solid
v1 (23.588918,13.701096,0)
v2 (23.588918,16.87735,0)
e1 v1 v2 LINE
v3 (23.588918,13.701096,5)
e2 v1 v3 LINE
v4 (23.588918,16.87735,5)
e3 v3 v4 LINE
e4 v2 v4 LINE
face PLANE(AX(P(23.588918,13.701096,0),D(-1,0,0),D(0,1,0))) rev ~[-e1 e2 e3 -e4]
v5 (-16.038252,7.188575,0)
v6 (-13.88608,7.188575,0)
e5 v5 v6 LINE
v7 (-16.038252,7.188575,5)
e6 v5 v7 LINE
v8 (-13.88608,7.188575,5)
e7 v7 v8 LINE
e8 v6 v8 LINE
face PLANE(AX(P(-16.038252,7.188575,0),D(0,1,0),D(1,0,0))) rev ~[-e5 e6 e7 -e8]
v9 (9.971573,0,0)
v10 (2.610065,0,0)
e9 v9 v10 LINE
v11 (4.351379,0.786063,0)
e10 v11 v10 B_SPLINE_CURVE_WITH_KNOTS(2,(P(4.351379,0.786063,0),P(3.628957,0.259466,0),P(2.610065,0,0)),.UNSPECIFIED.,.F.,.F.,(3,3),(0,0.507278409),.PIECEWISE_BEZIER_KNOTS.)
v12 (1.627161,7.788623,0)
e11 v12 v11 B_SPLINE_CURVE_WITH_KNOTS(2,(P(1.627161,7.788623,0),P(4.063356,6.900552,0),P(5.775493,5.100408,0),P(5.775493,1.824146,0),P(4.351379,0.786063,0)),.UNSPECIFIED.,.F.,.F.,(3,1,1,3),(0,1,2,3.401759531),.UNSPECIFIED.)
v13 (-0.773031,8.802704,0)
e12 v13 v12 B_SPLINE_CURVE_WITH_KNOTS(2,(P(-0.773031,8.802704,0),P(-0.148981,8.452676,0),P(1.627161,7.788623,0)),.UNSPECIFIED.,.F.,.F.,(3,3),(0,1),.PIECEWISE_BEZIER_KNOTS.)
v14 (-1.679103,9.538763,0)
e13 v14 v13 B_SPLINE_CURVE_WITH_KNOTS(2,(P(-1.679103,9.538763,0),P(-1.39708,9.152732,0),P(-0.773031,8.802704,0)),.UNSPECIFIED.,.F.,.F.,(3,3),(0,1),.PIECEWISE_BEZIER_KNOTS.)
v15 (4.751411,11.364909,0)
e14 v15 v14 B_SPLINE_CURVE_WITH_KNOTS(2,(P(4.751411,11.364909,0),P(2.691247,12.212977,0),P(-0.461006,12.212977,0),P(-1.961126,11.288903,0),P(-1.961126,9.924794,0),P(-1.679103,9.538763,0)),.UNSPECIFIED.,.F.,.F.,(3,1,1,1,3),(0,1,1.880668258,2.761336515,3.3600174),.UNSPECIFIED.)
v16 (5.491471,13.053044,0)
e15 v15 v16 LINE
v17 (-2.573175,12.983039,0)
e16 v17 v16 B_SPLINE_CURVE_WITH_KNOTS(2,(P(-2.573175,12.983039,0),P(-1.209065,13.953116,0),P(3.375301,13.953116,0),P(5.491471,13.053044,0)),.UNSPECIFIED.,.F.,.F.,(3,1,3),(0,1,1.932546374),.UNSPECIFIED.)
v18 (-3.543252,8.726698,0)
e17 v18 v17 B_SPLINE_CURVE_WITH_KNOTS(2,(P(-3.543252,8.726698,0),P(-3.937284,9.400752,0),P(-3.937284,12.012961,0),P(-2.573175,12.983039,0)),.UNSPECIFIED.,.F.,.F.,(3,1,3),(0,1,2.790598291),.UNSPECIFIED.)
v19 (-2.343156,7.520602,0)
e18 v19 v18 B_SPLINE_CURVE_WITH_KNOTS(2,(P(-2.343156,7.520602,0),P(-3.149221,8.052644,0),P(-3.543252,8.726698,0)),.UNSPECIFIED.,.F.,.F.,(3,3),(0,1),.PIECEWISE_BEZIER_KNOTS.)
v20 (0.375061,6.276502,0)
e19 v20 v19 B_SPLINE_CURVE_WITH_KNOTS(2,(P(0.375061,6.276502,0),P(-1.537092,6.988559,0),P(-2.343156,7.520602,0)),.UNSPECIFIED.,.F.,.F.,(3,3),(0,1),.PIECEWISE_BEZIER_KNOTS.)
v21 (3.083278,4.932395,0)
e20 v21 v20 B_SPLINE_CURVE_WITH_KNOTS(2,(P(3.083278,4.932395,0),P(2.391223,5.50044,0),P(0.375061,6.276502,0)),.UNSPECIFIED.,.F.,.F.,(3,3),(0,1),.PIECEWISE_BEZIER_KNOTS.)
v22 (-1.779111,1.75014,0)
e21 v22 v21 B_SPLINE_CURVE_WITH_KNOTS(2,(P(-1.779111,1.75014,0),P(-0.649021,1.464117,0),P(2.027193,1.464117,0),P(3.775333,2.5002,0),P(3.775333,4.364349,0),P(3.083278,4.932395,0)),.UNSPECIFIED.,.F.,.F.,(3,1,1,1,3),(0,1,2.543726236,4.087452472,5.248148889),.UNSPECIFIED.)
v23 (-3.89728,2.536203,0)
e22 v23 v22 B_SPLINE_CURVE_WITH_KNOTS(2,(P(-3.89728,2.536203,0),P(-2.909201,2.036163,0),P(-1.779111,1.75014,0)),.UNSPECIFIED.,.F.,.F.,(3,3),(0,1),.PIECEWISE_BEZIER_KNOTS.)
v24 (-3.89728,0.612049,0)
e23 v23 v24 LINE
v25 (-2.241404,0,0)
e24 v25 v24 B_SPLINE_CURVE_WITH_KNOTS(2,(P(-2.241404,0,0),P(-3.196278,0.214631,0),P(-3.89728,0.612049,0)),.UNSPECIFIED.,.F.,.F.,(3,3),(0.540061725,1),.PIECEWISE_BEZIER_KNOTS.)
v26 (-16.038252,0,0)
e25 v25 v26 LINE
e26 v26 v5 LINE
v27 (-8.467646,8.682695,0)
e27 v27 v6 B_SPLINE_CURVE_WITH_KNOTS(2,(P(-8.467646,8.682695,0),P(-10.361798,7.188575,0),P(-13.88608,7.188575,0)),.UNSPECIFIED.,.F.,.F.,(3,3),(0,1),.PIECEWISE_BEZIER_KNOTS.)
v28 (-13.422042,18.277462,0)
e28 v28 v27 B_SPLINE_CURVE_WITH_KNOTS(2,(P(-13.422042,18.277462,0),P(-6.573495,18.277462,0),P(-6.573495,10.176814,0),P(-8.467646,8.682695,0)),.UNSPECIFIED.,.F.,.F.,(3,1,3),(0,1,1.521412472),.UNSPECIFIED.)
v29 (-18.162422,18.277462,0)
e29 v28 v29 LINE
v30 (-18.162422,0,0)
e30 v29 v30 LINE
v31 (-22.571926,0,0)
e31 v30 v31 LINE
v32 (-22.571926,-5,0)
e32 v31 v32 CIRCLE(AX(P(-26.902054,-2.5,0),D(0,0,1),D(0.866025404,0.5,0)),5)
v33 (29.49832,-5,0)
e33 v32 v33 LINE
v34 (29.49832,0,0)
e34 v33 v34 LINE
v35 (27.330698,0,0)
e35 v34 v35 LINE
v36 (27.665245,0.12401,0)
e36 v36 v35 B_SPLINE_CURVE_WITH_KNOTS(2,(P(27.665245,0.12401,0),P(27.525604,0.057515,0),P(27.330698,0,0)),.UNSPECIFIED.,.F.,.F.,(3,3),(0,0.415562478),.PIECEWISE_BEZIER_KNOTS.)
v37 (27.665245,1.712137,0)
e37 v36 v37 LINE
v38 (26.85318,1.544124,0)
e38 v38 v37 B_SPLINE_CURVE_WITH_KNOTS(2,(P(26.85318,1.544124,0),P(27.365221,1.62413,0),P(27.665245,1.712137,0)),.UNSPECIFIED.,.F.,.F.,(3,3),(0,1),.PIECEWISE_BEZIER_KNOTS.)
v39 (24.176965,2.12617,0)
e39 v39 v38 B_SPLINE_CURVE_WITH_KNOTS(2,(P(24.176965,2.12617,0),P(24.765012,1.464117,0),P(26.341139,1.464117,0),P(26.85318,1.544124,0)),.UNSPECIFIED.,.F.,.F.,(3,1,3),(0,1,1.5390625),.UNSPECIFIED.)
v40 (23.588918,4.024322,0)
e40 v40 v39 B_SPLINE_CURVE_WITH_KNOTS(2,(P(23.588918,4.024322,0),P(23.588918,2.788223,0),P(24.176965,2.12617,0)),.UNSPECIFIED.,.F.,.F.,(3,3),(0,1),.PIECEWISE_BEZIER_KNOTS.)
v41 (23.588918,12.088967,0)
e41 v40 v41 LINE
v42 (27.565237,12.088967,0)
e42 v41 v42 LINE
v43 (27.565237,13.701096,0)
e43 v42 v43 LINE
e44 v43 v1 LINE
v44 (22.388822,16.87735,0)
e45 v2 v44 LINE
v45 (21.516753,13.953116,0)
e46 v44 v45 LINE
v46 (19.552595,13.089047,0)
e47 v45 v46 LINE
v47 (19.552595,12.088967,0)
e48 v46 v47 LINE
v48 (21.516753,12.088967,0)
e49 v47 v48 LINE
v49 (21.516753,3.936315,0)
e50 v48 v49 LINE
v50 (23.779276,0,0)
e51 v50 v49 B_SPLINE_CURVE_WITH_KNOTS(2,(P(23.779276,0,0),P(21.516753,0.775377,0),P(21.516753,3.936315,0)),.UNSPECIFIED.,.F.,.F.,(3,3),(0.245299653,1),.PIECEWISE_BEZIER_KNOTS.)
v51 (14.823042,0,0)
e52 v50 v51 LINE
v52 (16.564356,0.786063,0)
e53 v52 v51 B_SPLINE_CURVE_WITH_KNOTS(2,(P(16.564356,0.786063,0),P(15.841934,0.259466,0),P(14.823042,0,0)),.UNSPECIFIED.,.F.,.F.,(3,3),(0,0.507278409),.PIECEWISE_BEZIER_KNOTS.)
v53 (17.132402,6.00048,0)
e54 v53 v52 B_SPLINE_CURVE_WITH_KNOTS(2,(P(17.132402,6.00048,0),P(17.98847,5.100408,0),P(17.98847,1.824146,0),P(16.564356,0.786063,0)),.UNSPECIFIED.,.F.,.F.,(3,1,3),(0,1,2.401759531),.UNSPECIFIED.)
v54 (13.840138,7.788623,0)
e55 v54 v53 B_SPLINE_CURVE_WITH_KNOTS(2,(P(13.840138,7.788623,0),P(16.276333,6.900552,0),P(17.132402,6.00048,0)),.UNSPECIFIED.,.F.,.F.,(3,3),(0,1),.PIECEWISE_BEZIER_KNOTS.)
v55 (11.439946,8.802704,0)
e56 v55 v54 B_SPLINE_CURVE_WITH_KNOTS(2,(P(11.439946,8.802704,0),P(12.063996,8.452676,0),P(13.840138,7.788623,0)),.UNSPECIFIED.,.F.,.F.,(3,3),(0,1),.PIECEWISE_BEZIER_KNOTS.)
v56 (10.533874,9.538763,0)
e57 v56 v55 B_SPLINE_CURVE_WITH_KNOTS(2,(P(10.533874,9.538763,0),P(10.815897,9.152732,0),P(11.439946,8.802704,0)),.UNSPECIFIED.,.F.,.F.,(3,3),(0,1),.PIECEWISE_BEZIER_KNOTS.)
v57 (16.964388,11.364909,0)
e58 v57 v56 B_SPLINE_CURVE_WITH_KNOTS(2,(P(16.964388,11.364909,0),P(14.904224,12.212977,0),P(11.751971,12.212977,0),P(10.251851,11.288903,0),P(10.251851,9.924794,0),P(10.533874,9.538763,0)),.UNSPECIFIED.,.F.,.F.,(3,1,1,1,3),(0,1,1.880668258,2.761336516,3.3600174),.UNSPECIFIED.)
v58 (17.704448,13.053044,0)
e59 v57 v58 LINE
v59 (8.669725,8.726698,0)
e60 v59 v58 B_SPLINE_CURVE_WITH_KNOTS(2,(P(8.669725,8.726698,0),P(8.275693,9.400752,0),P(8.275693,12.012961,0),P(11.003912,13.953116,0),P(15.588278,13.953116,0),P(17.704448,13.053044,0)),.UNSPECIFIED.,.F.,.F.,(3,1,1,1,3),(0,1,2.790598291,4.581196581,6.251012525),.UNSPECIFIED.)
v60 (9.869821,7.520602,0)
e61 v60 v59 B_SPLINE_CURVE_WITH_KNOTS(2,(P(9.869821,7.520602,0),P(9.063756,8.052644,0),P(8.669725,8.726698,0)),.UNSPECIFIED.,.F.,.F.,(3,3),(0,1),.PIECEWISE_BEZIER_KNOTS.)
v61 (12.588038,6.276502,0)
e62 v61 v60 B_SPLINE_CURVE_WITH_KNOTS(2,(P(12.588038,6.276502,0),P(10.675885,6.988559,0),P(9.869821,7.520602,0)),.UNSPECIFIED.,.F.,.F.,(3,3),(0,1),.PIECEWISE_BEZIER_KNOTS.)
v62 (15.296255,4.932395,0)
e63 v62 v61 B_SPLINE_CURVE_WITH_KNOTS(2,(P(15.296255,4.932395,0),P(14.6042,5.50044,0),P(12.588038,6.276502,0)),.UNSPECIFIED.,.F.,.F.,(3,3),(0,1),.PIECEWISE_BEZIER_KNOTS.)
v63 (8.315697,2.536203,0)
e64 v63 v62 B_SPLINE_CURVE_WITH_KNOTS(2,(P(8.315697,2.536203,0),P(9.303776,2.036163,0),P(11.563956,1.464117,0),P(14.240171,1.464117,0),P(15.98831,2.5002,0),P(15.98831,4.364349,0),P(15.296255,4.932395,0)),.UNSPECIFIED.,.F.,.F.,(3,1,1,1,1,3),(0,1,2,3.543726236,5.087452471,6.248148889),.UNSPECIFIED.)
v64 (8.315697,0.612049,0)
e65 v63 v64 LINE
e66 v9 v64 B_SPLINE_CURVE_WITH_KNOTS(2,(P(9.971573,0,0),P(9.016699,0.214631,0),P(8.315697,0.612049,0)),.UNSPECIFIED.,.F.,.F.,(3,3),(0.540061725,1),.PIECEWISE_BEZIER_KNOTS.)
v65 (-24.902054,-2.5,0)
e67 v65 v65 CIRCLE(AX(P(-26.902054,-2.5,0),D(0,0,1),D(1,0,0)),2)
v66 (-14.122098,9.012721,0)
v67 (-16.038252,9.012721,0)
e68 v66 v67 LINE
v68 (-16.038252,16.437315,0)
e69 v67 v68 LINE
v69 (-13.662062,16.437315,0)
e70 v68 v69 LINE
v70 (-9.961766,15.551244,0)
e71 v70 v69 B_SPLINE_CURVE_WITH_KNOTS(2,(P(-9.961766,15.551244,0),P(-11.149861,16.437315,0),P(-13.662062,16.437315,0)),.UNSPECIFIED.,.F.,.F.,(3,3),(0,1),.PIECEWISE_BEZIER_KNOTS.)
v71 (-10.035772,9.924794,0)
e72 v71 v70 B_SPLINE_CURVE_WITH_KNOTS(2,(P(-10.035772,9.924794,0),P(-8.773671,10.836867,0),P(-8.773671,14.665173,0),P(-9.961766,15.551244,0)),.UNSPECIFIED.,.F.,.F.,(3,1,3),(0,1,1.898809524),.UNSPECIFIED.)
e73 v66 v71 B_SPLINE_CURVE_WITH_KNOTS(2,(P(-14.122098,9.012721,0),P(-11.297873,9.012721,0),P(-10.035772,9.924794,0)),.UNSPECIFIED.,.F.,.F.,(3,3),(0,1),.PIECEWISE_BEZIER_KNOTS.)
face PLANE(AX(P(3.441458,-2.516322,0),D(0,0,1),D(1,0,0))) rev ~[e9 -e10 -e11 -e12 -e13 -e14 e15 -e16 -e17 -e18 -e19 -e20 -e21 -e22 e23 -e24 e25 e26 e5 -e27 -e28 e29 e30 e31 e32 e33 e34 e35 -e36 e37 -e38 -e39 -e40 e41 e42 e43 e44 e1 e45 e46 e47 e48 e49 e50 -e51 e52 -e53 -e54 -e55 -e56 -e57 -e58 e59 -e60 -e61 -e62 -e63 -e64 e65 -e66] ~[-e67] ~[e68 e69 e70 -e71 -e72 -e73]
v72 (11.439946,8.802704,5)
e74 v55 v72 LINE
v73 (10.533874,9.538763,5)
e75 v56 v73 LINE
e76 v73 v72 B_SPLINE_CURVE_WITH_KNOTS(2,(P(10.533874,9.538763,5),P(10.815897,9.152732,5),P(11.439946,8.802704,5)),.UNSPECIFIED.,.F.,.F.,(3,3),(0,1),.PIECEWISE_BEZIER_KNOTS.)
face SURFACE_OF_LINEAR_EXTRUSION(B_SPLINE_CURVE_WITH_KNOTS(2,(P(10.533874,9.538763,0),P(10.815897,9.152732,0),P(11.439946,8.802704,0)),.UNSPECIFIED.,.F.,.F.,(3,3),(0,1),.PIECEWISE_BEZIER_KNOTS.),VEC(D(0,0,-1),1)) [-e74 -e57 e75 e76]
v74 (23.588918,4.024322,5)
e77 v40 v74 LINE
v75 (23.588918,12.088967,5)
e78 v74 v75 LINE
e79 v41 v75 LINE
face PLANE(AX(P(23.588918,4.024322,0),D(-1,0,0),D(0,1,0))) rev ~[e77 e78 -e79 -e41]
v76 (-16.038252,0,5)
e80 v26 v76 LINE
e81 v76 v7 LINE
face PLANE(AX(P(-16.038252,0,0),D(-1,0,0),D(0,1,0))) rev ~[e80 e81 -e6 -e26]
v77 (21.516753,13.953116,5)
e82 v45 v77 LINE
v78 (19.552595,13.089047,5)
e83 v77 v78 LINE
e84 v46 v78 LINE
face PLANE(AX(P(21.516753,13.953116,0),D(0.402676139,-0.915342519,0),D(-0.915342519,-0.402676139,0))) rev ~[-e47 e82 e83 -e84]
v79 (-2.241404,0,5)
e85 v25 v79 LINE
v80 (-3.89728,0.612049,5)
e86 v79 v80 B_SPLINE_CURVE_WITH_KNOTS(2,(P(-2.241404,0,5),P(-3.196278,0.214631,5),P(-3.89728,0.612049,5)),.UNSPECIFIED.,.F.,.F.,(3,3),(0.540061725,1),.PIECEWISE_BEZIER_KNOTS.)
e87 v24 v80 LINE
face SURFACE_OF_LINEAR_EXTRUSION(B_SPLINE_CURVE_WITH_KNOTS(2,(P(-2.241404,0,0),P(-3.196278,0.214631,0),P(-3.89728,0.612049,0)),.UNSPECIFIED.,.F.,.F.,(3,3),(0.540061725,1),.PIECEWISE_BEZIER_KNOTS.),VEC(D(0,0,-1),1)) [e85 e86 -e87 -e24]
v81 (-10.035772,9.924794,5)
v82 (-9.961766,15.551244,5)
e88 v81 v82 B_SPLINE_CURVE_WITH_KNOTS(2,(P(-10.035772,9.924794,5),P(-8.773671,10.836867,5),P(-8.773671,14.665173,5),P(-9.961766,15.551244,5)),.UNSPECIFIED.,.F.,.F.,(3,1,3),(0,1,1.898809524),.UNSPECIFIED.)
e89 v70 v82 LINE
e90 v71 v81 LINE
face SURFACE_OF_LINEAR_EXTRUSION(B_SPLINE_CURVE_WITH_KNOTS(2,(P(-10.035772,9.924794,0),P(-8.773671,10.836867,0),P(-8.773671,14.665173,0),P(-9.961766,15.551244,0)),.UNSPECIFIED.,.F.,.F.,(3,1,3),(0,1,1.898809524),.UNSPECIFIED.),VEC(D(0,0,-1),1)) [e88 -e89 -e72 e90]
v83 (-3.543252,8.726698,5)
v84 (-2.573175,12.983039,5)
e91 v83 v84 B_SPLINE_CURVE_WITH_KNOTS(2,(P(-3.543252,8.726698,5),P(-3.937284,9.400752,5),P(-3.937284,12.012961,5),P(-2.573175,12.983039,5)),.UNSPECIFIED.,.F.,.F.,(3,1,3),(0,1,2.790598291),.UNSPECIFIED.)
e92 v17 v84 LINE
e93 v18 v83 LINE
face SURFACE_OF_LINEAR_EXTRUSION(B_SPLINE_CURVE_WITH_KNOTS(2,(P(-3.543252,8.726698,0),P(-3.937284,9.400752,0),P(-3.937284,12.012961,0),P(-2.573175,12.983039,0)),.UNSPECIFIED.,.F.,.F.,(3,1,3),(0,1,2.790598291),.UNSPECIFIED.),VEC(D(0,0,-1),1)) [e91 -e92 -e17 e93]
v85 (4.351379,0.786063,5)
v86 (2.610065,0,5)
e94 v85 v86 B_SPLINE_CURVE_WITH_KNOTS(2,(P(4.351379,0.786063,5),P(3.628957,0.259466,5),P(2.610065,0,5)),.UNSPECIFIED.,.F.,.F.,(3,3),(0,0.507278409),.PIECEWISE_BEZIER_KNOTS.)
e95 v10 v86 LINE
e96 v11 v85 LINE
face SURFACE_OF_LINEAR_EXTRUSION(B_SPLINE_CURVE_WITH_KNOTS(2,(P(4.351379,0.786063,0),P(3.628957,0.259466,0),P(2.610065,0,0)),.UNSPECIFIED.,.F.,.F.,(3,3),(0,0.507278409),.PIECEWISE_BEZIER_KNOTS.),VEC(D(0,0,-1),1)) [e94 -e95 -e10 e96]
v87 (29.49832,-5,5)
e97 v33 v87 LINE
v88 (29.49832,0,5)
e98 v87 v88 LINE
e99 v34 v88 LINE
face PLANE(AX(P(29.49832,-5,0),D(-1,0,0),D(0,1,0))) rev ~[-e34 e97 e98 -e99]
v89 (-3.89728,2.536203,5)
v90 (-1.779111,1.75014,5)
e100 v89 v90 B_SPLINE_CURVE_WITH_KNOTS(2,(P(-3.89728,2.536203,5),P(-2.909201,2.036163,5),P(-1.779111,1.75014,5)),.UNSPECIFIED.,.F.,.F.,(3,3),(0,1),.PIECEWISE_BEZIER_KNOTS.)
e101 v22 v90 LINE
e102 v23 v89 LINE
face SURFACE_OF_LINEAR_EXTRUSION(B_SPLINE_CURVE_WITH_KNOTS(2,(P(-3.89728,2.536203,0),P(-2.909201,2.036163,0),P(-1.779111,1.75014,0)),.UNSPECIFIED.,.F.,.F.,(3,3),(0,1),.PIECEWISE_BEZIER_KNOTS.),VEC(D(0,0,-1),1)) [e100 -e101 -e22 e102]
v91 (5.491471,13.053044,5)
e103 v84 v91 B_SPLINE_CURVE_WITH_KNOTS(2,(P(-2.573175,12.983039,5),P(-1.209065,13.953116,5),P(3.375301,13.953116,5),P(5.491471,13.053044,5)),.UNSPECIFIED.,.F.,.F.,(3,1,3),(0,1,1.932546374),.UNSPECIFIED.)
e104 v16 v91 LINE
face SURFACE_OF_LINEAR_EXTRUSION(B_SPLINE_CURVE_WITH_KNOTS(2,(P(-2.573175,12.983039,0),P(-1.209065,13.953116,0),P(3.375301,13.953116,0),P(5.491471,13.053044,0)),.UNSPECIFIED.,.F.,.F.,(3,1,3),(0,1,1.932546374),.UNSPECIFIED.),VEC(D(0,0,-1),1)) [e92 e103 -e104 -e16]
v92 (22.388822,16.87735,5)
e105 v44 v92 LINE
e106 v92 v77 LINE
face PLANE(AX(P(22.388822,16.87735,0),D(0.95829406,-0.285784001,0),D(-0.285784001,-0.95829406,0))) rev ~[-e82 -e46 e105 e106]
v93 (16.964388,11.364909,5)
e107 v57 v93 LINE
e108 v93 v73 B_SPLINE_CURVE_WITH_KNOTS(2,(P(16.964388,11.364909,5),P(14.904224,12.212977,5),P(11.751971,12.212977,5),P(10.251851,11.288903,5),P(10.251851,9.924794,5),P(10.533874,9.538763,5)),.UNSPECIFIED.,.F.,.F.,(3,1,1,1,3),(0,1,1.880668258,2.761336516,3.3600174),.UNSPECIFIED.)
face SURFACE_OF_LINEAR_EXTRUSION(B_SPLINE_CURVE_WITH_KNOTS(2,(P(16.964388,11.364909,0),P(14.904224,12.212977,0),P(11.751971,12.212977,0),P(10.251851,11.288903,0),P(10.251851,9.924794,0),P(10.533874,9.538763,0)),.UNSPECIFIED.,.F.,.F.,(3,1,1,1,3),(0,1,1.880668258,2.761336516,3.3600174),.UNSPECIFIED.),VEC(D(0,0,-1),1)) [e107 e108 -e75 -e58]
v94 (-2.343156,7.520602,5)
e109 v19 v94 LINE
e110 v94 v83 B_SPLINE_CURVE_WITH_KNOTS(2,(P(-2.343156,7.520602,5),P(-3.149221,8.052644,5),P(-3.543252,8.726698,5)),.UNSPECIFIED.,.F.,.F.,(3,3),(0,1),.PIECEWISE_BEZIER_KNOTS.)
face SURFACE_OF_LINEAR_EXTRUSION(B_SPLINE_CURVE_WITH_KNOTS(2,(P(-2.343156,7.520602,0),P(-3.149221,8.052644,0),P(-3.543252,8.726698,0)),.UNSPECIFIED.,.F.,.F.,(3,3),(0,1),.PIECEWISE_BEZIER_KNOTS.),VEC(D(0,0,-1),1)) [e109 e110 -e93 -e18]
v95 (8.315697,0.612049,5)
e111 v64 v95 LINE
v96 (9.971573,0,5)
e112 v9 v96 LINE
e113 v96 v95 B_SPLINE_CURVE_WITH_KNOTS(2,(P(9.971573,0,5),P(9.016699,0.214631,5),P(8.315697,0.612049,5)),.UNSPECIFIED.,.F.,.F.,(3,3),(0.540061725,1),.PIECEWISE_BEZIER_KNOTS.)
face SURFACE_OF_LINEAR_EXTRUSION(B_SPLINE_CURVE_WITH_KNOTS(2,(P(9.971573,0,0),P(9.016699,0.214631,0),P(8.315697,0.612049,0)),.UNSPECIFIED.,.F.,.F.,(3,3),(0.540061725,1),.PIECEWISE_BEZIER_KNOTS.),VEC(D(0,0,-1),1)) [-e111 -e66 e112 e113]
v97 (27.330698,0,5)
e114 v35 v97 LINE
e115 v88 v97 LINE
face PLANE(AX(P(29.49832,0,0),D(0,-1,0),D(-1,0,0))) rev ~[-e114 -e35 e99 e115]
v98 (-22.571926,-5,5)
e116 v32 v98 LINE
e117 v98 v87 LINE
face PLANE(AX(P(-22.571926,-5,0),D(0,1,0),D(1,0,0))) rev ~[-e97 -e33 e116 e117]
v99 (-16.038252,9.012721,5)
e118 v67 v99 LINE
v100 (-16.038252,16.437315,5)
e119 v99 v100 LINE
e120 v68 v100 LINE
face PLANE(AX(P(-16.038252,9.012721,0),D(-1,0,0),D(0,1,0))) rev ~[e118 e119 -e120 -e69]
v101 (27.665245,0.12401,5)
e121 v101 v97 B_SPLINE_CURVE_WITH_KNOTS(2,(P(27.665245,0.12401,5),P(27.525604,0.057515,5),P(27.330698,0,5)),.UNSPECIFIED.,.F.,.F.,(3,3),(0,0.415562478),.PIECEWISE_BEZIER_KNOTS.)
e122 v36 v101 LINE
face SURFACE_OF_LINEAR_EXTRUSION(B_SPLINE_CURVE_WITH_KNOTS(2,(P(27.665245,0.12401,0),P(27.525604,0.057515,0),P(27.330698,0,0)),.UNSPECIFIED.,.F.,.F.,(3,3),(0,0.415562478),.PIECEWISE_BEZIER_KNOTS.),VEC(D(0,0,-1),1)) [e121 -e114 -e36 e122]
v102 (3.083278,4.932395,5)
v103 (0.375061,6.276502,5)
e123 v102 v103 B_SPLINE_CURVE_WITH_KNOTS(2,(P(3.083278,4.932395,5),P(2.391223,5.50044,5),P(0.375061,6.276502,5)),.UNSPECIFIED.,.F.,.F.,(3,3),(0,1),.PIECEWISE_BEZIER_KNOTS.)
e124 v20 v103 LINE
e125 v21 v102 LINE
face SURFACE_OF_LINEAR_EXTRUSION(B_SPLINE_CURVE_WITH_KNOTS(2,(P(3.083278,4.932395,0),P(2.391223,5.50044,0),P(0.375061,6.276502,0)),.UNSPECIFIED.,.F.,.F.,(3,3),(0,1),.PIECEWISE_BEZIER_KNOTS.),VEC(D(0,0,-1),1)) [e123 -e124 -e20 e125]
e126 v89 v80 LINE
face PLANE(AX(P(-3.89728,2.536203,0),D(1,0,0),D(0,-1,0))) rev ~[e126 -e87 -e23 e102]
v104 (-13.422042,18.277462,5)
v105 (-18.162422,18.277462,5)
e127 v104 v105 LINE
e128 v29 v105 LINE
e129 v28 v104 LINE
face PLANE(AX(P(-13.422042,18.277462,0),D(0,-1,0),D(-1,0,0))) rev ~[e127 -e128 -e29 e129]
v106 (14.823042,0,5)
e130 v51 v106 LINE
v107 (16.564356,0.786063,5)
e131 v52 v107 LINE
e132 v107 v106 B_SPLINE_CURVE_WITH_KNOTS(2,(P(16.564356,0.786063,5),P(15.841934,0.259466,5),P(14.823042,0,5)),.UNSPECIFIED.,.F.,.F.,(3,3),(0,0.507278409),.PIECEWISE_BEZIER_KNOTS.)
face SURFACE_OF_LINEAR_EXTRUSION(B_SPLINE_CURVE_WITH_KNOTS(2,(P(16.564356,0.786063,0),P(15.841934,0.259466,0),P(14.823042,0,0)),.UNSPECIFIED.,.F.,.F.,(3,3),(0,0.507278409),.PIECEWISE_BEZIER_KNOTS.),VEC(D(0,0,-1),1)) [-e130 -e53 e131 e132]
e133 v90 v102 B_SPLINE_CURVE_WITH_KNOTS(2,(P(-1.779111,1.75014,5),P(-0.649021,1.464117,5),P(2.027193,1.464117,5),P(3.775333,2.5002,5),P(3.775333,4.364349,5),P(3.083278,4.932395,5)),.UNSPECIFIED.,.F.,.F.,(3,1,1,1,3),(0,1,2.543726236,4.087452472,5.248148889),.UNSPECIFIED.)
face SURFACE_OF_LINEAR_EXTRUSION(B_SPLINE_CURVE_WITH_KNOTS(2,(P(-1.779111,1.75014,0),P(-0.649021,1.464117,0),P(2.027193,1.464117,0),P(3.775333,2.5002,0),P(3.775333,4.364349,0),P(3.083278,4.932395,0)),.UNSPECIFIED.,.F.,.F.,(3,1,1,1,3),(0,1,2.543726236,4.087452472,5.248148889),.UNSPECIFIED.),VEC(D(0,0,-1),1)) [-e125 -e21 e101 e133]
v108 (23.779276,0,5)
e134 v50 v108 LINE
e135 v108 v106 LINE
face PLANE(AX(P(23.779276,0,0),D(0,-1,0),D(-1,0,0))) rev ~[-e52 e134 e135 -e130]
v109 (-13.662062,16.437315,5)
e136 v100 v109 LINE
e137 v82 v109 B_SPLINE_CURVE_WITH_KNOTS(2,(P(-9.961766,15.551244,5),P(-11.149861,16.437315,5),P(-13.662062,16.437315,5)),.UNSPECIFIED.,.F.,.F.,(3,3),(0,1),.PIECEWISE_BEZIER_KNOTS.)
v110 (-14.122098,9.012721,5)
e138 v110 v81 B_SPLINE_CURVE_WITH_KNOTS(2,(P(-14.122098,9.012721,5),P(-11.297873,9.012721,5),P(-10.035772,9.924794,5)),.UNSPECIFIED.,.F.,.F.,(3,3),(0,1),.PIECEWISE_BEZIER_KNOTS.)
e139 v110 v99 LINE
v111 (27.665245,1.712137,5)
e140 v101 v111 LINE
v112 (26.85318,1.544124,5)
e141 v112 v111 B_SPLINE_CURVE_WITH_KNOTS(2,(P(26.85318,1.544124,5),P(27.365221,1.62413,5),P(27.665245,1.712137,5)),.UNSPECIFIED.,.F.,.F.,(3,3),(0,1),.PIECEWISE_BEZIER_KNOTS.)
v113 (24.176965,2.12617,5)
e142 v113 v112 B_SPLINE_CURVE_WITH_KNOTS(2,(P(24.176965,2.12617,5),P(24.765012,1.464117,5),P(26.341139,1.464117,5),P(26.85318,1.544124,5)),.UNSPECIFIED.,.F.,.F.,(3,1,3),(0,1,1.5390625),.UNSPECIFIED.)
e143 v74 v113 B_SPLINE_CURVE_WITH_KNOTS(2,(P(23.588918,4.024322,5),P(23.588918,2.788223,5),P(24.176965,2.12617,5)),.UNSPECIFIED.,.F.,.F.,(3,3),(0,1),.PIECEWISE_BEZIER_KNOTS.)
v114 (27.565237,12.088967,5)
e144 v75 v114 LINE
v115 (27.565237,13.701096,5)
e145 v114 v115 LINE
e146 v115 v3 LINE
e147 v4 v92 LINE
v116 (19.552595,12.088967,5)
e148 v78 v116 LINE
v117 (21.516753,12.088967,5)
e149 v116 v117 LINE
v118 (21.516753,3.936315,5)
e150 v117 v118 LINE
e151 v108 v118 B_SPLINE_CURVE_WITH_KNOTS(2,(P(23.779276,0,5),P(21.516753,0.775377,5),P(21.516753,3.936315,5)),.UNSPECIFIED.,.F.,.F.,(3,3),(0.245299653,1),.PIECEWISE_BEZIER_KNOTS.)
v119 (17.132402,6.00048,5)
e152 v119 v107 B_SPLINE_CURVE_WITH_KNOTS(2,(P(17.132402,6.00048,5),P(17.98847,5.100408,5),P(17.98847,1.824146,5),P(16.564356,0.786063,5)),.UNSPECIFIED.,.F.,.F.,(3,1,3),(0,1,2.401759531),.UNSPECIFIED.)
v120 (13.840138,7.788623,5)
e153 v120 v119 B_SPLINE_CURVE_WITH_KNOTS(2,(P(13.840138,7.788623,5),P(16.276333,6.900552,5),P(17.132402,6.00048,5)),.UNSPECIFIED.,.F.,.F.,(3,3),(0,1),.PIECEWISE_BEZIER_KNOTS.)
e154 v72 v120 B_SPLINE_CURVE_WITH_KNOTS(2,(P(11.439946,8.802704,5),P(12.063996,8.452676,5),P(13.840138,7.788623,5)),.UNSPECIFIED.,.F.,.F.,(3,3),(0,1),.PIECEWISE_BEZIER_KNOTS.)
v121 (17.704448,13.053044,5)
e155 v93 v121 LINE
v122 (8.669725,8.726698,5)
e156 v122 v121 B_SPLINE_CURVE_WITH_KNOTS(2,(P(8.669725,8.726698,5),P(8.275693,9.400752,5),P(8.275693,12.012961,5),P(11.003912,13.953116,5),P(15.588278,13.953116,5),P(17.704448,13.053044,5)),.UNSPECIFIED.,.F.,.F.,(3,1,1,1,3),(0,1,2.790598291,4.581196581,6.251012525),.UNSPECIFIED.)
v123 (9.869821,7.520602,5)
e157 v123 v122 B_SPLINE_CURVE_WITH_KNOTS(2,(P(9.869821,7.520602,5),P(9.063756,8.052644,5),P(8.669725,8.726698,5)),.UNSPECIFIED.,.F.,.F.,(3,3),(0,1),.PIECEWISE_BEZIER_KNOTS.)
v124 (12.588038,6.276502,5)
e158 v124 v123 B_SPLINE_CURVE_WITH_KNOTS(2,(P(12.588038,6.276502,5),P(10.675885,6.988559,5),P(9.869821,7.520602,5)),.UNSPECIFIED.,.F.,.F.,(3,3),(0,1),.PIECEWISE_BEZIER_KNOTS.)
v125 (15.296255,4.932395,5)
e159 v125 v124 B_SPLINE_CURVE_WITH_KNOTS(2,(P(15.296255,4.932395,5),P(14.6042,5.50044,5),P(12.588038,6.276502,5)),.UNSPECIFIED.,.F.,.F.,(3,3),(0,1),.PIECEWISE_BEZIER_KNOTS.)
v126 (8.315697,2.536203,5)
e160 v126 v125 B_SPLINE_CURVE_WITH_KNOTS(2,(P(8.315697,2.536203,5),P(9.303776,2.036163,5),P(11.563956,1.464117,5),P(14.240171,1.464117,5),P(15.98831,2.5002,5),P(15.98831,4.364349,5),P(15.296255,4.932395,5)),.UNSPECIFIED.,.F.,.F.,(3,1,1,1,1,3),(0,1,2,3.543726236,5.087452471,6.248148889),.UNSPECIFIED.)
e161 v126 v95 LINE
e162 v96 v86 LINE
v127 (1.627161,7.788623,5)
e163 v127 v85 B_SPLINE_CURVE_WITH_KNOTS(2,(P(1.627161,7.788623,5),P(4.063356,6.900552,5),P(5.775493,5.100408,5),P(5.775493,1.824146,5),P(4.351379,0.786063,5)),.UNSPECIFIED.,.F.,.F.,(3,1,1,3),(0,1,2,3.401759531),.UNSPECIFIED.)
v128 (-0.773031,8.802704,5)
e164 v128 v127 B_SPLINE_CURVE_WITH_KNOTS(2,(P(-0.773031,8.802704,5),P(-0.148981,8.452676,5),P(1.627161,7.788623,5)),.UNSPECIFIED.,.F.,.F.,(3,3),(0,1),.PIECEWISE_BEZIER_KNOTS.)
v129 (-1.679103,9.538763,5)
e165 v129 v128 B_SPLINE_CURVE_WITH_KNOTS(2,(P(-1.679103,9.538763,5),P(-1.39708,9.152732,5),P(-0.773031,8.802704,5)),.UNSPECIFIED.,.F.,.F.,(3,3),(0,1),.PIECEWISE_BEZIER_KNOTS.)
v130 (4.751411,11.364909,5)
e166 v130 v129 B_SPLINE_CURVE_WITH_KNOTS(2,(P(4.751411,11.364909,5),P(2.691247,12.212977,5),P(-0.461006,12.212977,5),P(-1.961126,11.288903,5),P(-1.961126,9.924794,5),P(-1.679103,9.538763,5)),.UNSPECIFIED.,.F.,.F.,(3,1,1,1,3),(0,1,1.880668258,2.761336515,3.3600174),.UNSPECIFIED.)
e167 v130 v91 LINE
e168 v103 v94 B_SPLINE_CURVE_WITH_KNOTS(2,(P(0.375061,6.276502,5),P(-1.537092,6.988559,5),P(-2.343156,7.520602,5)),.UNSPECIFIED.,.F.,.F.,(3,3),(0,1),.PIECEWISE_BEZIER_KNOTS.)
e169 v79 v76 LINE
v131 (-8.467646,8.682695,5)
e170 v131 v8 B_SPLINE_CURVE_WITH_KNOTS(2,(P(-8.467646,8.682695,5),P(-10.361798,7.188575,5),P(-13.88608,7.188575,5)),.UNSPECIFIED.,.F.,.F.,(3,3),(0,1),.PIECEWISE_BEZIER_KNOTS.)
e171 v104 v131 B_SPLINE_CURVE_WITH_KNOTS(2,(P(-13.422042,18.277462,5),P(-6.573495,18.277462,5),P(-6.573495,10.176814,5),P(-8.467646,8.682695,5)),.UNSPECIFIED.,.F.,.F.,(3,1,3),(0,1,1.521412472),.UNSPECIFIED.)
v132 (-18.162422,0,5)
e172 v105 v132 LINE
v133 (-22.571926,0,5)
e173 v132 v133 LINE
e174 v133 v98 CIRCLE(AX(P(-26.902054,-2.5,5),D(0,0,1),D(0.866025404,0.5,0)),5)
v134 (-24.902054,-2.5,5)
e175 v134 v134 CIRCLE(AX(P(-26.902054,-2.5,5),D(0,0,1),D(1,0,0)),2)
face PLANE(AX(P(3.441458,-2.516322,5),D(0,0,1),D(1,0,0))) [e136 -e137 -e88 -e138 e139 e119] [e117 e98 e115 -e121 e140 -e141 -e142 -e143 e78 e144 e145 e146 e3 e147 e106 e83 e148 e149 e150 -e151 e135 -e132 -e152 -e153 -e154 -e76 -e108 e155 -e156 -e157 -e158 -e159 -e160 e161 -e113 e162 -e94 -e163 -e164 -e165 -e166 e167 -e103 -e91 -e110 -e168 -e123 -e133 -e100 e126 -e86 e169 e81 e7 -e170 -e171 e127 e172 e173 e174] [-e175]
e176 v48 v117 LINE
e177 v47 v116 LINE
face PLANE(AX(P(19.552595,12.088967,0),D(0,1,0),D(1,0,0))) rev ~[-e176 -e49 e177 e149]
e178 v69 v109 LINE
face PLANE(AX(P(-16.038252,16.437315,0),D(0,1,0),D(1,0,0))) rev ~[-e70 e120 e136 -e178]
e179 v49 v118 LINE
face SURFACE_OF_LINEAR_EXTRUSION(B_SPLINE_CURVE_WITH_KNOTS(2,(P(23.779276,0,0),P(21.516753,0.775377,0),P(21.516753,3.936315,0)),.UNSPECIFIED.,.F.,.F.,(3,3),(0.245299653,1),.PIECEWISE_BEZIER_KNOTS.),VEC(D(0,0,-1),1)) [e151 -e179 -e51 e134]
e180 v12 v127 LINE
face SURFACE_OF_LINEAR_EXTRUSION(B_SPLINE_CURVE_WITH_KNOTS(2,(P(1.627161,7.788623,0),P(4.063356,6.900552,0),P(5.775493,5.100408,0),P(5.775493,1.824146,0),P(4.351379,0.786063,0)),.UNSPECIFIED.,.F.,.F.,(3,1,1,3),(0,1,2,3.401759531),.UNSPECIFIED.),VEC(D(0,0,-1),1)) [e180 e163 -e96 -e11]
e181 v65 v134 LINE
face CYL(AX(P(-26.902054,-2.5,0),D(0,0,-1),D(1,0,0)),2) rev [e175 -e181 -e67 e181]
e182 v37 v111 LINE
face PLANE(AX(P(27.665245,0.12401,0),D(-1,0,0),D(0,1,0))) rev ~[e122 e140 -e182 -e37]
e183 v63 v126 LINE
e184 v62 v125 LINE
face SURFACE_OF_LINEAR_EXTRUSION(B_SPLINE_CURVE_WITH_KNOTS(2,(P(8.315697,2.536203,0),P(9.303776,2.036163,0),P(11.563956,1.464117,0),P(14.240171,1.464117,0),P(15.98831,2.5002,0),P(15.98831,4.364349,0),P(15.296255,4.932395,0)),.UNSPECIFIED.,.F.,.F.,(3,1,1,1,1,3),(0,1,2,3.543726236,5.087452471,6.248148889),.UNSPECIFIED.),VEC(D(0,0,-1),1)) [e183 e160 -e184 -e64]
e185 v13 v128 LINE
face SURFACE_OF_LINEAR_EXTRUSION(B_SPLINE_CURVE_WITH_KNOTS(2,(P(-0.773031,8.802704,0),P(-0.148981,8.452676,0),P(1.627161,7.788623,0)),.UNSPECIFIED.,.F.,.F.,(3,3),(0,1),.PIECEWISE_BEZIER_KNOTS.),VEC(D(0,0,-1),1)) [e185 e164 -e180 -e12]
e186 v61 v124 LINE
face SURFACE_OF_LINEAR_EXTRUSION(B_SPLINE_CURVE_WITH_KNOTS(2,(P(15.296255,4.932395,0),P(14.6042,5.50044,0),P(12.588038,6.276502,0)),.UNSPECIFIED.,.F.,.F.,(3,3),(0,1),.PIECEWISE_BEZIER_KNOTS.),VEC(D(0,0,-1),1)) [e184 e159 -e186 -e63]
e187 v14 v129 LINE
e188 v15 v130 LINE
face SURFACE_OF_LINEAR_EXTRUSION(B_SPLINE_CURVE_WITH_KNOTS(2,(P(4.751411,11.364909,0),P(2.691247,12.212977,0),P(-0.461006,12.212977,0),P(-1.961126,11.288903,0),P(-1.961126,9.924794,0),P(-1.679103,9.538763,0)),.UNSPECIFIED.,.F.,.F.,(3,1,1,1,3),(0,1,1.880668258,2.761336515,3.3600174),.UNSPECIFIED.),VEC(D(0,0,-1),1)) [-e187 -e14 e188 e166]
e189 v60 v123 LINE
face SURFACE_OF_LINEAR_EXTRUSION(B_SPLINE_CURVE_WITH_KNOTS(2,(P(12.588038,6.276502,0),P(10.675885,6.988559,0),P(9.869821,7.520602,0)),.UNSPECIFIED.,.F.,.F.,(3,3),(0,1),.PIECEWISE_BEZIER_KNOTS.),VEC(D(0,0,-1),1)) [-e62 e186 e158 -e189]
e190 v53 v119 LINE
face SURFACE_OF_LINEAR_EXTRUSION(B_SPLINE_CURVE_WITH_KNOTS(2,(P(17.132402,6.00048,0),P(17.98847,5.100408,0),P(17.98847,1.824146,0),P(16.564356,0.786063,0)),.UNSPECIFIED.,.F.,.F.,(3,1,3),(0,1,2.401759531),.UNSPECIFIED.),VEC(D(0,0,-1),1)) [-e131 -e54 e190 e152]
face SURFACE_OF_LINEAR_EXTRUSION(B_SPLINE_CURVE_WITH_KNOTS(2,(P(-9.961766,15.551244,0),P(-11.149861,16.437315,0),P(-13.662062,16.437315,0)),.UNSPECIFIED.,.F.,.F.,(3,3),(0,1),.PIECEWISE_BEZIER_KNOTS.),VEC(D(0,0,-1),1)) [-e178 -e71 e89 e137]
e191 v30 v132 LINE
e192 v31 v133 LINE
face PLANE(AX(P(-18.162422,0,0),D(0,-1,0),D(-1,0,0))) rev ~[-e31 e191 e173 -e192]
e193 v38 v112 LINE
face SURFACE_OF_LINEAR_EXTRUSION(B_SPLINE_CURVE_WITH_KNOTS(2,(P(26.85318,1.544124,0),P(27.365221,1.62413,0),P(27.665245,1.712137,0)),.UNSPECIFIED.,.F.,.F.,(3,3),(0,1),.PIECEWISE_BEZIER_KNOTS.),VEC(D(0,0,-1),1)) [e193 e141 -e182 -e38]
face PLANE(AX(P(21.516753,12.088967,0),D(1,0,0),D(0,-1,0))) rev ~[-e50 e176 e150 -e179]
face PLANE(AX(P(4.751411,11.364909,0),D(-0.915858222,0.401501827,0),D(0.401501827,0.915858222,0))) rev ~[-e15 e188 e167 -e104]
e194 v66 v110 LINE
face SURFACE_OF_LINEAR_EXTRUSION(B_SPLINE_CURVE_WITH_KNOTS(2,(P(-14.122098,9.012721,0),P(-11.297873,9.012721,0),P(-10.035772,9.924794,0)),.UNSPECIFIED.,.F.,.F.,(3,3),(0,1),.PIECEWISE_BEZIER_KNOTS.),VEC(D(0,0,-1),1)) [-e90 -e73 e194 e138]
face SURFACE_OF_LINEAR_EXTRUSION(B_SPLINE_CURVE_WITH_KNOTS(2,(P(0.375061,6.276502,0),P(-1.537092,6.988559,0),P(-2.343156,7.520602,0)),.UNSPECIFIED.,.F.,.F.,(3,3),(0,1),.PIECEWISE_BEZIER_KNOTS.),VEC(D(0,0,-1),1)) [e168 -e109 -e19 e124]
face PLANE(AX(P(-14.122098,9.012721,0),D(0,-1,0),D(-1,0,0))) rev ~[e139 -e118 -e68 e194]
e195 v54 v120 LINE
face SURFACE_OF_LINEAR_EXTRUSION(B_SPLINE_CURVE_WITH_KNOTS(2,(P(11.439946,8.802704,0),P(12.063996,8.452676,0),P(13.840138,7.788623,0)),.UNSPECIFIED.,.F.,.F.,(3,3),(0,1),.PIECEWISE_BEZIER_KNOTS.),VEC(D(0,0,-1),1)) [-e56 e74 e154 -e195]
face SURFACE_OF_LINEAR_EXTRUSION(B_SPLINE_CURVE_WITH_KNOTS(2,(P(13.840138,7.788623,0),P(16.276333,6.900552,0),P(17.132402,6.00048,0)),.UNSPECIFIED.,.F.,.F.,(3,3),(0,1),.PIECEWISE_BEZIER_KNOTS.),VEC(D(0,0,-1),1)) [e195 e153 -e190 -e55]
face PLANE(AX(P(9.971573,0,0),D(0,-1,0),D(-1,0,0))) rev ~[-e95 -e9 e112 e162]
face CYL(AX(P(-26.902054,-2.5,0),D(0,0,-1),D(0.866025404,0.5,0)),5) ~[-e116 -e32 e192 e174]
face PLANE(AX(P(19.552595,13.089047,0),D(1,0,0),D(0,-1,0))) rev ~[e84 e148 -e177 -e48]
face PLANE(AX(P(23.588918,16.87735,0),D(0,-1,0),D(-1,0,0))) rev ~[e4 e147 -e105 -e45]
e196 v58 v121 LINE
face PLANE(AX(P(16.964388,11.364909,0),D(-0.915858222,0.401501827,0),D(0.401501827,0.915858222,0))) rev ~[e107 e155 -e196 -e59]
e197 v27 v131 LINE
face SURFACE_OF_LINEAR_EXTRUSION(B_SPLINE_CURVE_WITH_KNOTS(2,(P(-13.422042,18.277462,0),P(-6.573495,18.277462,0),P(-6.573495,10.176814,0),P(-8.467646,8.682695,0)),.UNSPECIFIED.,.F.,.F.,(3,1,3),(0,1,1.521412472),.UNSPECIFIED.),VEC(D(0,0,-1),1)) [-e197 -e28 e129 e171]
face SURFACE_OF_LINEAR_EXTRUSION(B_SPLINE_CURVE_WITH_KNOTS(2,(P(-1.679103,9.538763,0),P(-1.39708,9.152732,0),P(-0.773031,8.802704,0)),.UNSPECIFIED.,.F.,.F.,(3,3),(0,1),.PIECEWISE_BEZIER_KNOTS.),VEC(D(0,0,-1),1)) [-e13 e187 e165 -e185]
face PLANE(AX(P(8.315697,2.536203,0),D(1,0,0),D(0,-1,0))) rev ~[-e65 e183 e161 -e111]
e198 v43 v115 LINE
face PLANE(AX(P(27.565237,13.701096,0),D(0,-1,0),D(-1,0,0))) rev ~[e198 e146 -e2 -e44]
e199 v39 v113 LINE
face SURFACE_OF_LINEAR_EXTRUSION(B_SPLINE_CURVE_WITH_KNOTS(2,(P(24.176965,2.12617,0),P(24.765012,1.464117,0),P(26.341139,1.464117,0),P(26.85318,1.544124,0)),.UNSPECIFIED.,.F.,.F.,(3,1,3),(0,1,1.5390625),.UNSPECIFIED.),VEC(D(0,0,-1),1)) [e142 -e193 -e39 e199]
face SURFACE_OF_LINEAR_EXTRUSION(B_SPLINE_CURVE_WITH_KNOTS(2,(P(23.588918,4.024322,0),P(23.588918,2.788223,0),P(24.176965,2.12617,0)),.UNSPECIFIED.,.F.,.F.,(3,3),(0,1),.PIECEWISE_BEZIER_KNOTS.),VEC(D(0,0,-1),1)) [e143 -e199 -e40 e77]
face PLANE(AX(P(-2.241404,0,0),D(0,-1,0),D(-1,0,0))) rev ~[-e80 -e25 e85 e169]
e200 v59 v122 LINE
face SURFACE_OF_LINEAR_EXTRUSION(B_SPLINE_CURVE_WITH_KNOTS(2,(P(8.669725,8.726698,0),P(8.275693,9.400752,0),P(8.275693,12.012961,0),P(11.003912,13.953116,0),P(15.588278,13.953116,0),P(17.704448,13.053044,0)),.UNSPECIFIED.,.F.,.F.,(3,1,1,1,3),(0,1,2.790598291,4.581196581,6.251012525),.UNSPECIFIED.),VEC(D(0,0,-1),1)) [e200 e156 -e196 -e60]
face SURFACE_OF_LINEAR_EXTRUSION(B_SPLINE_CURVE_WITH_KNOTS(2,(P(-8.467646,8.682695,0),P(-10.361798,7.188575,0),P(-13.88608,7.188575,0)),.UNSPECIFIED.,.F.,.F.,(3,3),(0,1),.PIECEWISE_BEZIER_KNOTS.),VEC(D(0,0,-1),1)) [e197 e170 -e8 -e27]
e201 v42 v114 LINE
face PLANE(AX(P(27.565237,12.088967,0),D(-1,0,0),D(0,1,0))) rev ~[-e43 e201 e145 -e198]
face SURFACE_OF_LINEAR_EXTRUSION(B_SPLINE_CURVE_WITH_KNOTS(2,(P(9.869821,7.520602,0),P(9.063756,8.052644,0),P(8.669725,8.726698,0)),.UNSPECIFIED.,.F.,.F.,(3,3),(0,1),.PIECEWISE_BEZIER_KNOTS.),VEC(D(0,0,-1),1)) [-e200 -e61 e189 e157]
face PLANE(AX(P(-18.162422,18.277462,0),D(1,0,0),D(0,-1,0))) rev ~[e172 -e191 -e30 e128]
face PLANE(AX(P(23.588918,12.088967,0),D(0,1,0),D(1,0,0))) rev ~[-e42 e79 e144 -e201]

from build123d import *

# Parameters (mm, degrees)
F0_R     = 2
F1_DEPTH = 5


with BuildPart() as f1:
    # F0 (on Top) → F1 (new body)
    with BuildSketch(Plane.XY):
        with BuildLine():
            Line((-18.1624217064, 0), (-22.5719264863, 0))
            ThreePointArc((-22.5719264863, 0), (-22.0724243737, -1.2059047745), (-21.9020535052, -2.5))
            ThreePointArc((-21.9020535052, -2.5), (-22.0724243737, -3.7940952255), (-22.5719264863, -5))
            Line((-22.5719264863, -5), (29.4983200729, -5))
            Line((29.4983200729, -5), (29.4983200729, 0))
            Line((29.4983200729, 0), (27.3306982624, 0))
            add(Edge.make_bspline(
                [(27.3306982624, 0), (27.0565868286, -0.0808872186), (26.6731651405, -0.1440115209)],
                knots=[0.4155624782, 0.4155624782, 0.4155624782, 1, 1, 1], degree=2))
            add(Edge.make_bspline(
                [(26.6731651405, -0.1440115209), (26.0171126563, -0.2520201616), (25.4890704129, -0.2520201616)],
                knots=[0, 0, 0, 1, 1, 1], degree=2))
            add(Edge.make_bspline(
                [(25.4890704129, -0.2520201616), (24.5146622385, -0.2520201616), (23.7792760511, 0)],
                knots=[0, 0, 0, 0.245299653, 0.245299653, 0.245299653], degree=2))
            Line((23.7792760511, 0), (14.8230424682, 0))
            add(Edge.make_bspline(
                [(14.8230424682, 0), (13.8333887774, -0.2520201616), (12.5640364102, -0.2520201616)],
                knots=[0.5072784088, 0.5072784088, 0.5072784088, 1, 1, 1], degree=2))
            add(Edge.make_bspline(
                [(12.5640364102, -0.2520201616), (11.092790572, -0.2520201616), (9.9715727361, 0)],
                knots=[0, 0, 0, 0.5400617249, 0.5400617249, 0.5400617249], degree=2))
            Line((9.9715727361, 0), (2.61006543, 0))
            add(Edge.make_bspline(
                [(2.61006543, 0), (1.6204117393, -0.2520201616), (0.3510593721, -0.2520201616)],
                knots=[0.5072784088, 0.5072784088, 0.5072784088, 1, 1, 1], degree=2))
            add(Edge.make_bspline(
                [(0.3510593721, -0.2520201616), (-1.1201864661, -0.2520201616), (-2.2414043021, 0)],
                knots=[0, 0, 0, 0.5400617249, 0.5400617249, 0.5400617249], degree=2))
            Line((-2.2414043021, 0), (-16.0382517728, 0))
            Line((-16.0382517728, 0), (-18.1624217064, 0))
        make_face()
        with BuildLine():
            ThreePointArc((-21.9020535052, -2.5), (-22.0724243737, -1.2059047745), (-22.5719264863, 0))
            ThreePointArc((-22.5719264863, 0), (-31.9020535052, -2.5), (-22.5719264863, -5))
            ThreePointArc((-22.5719264863, -5), (-22.0724243737, -3.7940952255), (-21.9020535052, -2.5))
        make_face()
        with Locations((-26.9020535052, -2.5)):
            Circle(F0_R, mode=Mode.SUBTRACT)
        with BuildLine():
            Line((-18.1624217064, 18.277462197), (-18.1624217064, 0))
            Line((-18.1624217064, 0), (-16.0382517728, 0))
            Line((-16.0382517728, 0), (-16.0382517728, 7.188575086))
            Line((-16.0382517728, 7.188575086), (-13.8860795991, 7.188575086))
            add(Edge.make_bspline(
                [(-8.4676461244, 8.6826946156), (-10.3617976565, 7.188575086), (-13.8860795991, 7.188575086)],
                knots=[0, 0, 0, 1, 1, 1], degree=2))
            add(Edge.make_bspline(
                [(-6.5734945923, 12.9530362429), (-6.5734945923, 10.1768141451), (-8.4676461244, 8.6826946156)],
                knots=[0, 0, 0, 1, 1, 1], degree=2))
            add(Edge.make_bspline(
                [(-13.4220424761, 18.277462197), (-6.5734945923, 18.277462197), (-6.5734945923, 12.9530362429)],
                knots=[0, 0, 0, 1, 1, 1], degree=2))
            Line((-13.4220424761, 18.277462197), (-18.1624217064, 18.277462197))
        make_face()
        with BuildLine():
            Line((-14.1220984806, 9.0127210177), (-16.0382517728, 9.0127210177))
            Line((-16.0382517728, 9.0127210177), (-16.0382517728, 16.4373149852))
            Line((-16.0382517728, 16.4373149852), (-13.6620616776, 16.4373149852))
            add(Edge.make_bspline(
                [(-9.9617656539, 15.5512440995), (-11.1498607015, 16.4373149852), (-13.6620616776, 16.4373149852)],
                knots=[0, 0, 0, 1, 1, 1], degree=2))
            add(Edge.make_bspline(
                [(-8.7736706063, 12.8530282423), (-8.7736706063, 14.6651732139), (-9.9617656539, 15.5512440995)],
                knots=[0, 0, 0, 1, 1, 1], degree=2))
            add(Edge.make_bspline(
                [(-10.0357715744, 9.9247939835), (-8.7736706063, 10.8368669494), (-8.7736706063, 12.8530282423)],
                knots=[0, 0, 0, 1, 1, 1], degree=2))
            add(Edge.make_bspline(
                [(-14.1220984806, 9.0127210177), (-11.2978725425, 9.0127210177), (-10.0357715744, 9.9247939835)],
                knots=[0, 0, 0, 1, 1, 1], degree=2))
        make_face(mode=Mode.SUBTRACT)
        with BuildLine():
            add(Edge.make_bspline(
                [(-2.2414043021, 0), (-3.1962784837, 0.2146305007), (-3.8972804951, 0.6120489639)],
                knots=[0.5400617249, 0.5400617249, 0.5400617249, 1, 1, 1], degree=2))
            Line((-2.2414043021, 0), (2.61006543, 0))
            add(Edge.make_bspline(
                [(4.3513793977, 0.786062885), (3.6289571498, 0.259465769), (2.61006543, 0)],
                knots=[0, 0, 0, 0.5072784088, 0.5072784088, 0.5072784088], degree=2))
            add(Edge.make_bspline(
                [(5.7754933268, 3.7362989039), (5.7754933268, 1.8241459317), (4.3513793977, 0.786062885)],
                knots=[0, 0, 0, 1, 1, 1], degree=2))
            add(Edge.make_bspline(
                [(4.9194248413, 6.0004800384), (5.7754933268, 5.1004080326), (5.7754933268, 3.7362989039)],
                knots=[0, 0, 0, 1, 1, 1], degree=2))
            add(Edge.make_bspline(
                [(1.6271614602, 7.7886230898), (4.0633563558, 6.9005520442), (4.9194248413, 6.0004800384)],
                knots=[0, 0, 0, 1, 1, 1], degree=2))
            add(Edge.make_bspline(
                [(-0.7730305551, 8.8027042163), (-0.1489806311, 8.4526762141), (1.6271614602, 7.7886230898)],
                knots=[0, 0, 0, 1, 1, 1], degree=2))
            add(Edge.make_bspline(
                [(-1.6791030409, 9.538763101), (-1.3970804791, 9.1527322186), (-0.7730305551, 8.8027042163)],
                knots=[0, 0, 0, 1, 1, 1], degree=2))
            add(Edge.make_bspline(
                [(-1.9611256027, 10.4768381471), (-1.9611256027, 9.9247939835), (-1.6791030409, 9.538763101)],
                knots=[0, 0, 0, 1, 1, 1], degree=2))
            add(Edge.make_bspline(
                [(-1.2110655979, 11.7509400752), (-1.9611256027, 11.2889031122), (-1.9611256027, 10.4768381471)],
                knots=[0, 0, 0, 1, 1, 1], degree=2))
            add(Edge.make_bspline(
                [(1.0151124963, 12.2129770382), (-0.4610055931, 12.2129770382), (-1.2110655979, 11.7509400752)],
                knots=[0, 0, 0, 1, 1, 1], degree=2))
            add(Edge.make_bspline(
                [(4.7514114002, 11.3649091927), (2.691246587, 12.2129770382), (1.0151124963, 12.2129770382)],
                knots=[0, 0, 0, 1, 1, 1], degree=2))
            Line((4.7514114002, 11.3649091927), (5.491470605, 13.0530442435))
            add(Edge.make_bspline(
                [(1.1631243373, 13.9531162493), (3.3753013114, 13.9531162493), (5.491470605, 13.0530442435)],
                knots=[0, 0, 0, 1, 1, 1], degree=2))
            add(Edge.make_bspline(
                [(-2.5731745667, 12.9830386431), (-1.2090654379, 13.9531162493), (1.1631243373, 13.9531162493)],
                knots=[0, 0, 0, 1, 1, 1], degree=2))
            add(Edge.make_bspline(
                [(-3.9372836954, 10.3368269462), (-3.9372836954, 12.0129610369), (-2.5731745667, 12.9830386431)],
                knots=[0, 0, 0, 1, 1, 1], degree=2))
            add(Edge.make_bspline(
                [(-3.5432521729, 8.7266981359), (-3.9372836954, 9.4007520602), (-3.9372836954, 10.3368269462)],
                knots=[0, 0, 0, 1, 1, 1], degree=2))
            add(Edge.make_bspline(
                [(-2.3431561652, 7.5206016481), (-3.1492206503, 8.0526442115), (-3.5432521729, 8.7266981359)],
                knots=[0, 0, 0, 1, 1, 1], degree=2))
            add(Edge.make_bspline(
                [(0.3750612922, 6.2765021202), (-1.53709168, 6.9885590847), (-2.3431561652, 7.5206016481)],
                knots=[0, 0, 0, 1, 1, 1], degree=2))
            add(Edge.make_bspline(
                [(3.0832779495, 4.9323945916), (2.3912225851, 5.5004400352), (0.3750612922, 6.2765021202)],
                knots=[0, 0, 0, 1, 1, 1], degree=2))
            add(Edge.make_bspline(
                [(3.775333314, 3.5642851428), (3.775333314, 4.3643491479), (3.0832779495, 4.9323945916)],
                knots=[0, 0, 0, 1, 1, 1], degree=2))
            add(Edge.make_bspline(
                [(2.9012633884, 1.9821585727), (3.775333314, 2.500200016), (3.775333314, 3.5642851428)],
                knots=[0, 0, 0, 1, 1, 1], degree=2))
            add(Edge.make_bspline(
                [(0.4030635324, 1.4641171294), (2.0271934628, 1.4641171294), (2.9012633884, 1.9821585727)],
                knots=[0, 0, 0, 1, 1, 1], degree=2))
            add(Edge.make_bspline(
                [(-1.7791110416, 1.7501400112), (-0.6490206343, 1.4641171294), (0.4030635324, 1.4641171294)],
                knots=[0, 0, 0, 1, 1, 1], degree=2))
            add(Edge.make_bspline(
                [(-3.8972804951, 2.5362028962), (-2.9092014488, 2.036162893), (-1.7791110416, 1.7501400112)],
                knots=[0, 0, 0, 1, 1, 1], degree=2))
            Line((-3.8972804951, 2.5362028962), (-3.8972804951, 0.6120489639))
        make_face()
        with BuildLine():
            Line((2.61006543, 0), (-2.2414043021, 0))
            add(Edge.make_bspline(
                [(0.3510593721, -0.2520201616), (-1.1201864661, -0.2520201616), (-2.2414043021, 0)],
                knots=[0, 0, 0, 0.5400617249, 0.5400617249, 0.5400617249], degree=2))
            add(Edge.make_bspline(
                [(2.61006543, 0), (1.6204117393, -0.2520201616), (0.3510593721, -0.2520201616)],
                knots=[0.5072784088, 0.5072784088, 0.5072784088, 1, 1, 1], degree=2))
        make_face()
        with BuildLine():
            add(Edge.make_bspline(
                [(27.3306982624, 0), (27.0565868286, -0.0808872186), (26.6731651405, -0.1440115209)],
                knots=[0.4155624782, 0.4155624782, 0.4155624782, 1, 1, 1], degree=2))
            Line((27.3306982624, 0), (23.7792760511, 0))
            add(Edge.make_bspline(
                [(25.4890704129, -0.2520201616), (24.5146622385, -0.2520201616), (23.7792760511, 0)],
                knots=[0, 0, 0, 0.245299653, 0.245299653, 0.245299653], degree=2))
            add(Edge.make_bspline(
                [(26.6731651405, -0.1440115209), (26.0171126563, -0.2520201616), (25.4890704129, -0.2520201616)],
                knots=[0, 0, 0, 1, 1, 1], degree=2))
        make_face()
        with BuildLine():
            Line((23.7792760511, 0), (27.3306982624, 0))
            add(Edge.make_bspline(
                [(27.6652445069, 0.1240099208), (27.525604343, 0.0575146047), (27.3306982624, 0)],
                knots=[0, 0, 0, 0.4155624782, 0.4155624782, 0.4155624782], degree=2))
            Line((27.6652445069, 0.1240099208), (27.6652445069, 1.712136971))
            add(Edge.make_bspline(
                [(26.8531795417, 1.5441235299), (27.3652205049, 1.6241299304), (27.6652445069, 1.712136971)],
                knots=[0, 0, 0, 1, 1, 1], degree=2))
            add(Edge.make_bspline(
                [(25.7890944149, 1.4641171294), (26.3411385784, 1.4641171294), (26.8531795417, 1.5441235299)],
                knots=[0, 0, 0, 1, 1, 1], degree=2))
            add(Edge.make_bspline(
                [(24.1769654445, 2.1261700936), (24.7650124883, 1.4641171294), (25.7890944149, 1.4641171294)],
                knots=[0, 0, 0, 1, 1, 1], degree=2))
            add(Edge.make_bspline(
                [(23.5889184008, 4.0243219458), (23.5889184008, 2.7882230578), (24.1769654445, 2.1261700936)],
                knots=[0, 0, 0, 1, 1, 1], degree=2))
            Line((23.5889184008, 4.0243219458), (23.5889184008, 12.0889671174))
            Line((23.5889184008, 12.0889671174), (27.5652365062, 12.0889671174))
            Line((27.5652365062, 12.0889671174), (27.5652365062, 13.7010960877))
            Line((27.5652365062, 13.7010960877), (23.5889184008, 13.7010960877))
            Line((23.5889184008, 13.7010960877), (23.5889184008, 16.877350188))
            Line((23.5889184008, 16.877350188), (22.3888223931, 16.877350188))
            Line((22.3888223931, 16.877350188), (21.5167526275, 13.9531162493))
            Line((21.5167526275, 13.9531162493), (19.5525954949, 13.0890471238))
            Line((19.5525954949, 13.0890471238), (19.5525954949, 12.0889671174))
            Line((19.5525954949, 12.0889671174), (21.5167526275, 12.0889671174))
            Line((21.5167526275, 12.0889671174), (21.5167526275, 3.9363149052))
            add(Edge.make_bspline(
                [(23.7792760511, 0), (21.5167526275, 0.775376977), (21.5167526275, 3.9363149052)],
                knots=[0.245299653, 0.245299653, 0.245299653, 1, 1, 1], degree=2))
        make_face()
        with BuildLine():
            add(Edge.make_bspline(
                [(9.9715727361, 0), (9.0166985545, 0.2146305007), (8.315696543, 0.6120489639)],
                knots=[0.5400617249, 0.5400617249, 0.5400617249, 1, 1, 1], degree=2))
            Line((9.9715727361, 0), (14.8230424682, 0))
            add(Edge.make_bspline(
                [(16.5643564358, 0.786062885), (15.841934188, 0.259465769), (14.8230424682, 0)],
                knots=[0, 0, 0, 0.5072784088, 0.5072784088, 0.5072784088], degree=2))
            add(Edge.make_bspline(
                [(17.9884703649, 3.7362989039), (17.9884703649, 1.8241459317), (16.5643564358, 0.786062885)],
                knots=[0, 0, 0, 1, 1, 1], degree=2))
            add(Edge.make_bspline(
                [(17.1324018795, 6.0004800384), (17.9884703649, 5.1004080326), (17.9884703649, 3.7362989039)],
                knots=[0, 0, 0, 1, 1, 1], degree=2))
            add(Edge.make_bspline(
                [(13.8401384984, 7.7886230898), (16.276333394, 6.9005520442), (17.1324018795, 6.0004800384)],
                knots=[0, 0, 0, 1, 1, 1], degree=2))
            add(Edge.make_bspline(
                [(11.439946483, 8.8027042163), (12.063996407, 8.4526762141), (13.8401384984, 7.7886230898)],
                knots=[0, 0, 0, 1, 1, 1], degree=2))
            add(Edge.make_bspline(
                [(10.5338739972, 9.538763101), (10.815896559, 9.1527322186), (11.439946483, 8.8027042163)],
                knots=[0, 0, 0, 1, 1, 1], degree=2))
            add(Edge.make_bspline(
                [(10.2518514354, 10.4768381471), (10.2518514354, 9.9247939835), (10.5338739972, 9.538763101)],
                knots=[0, 0, 0, 1, 1, 1], degree=2))
            add(Edge.make_bspline(
                [(11.0019114402, 11.7509400752), (10.2518514354, 11.2889031122), (10.2518514354, 10.4768381471)],
                knots=[0, 0, 0, 1, 1, 1], degree=2))
            add(Edge.make_bspline(
                [(13.2280895345, 12.2129770382), (11.751971445, 12.2129770382), (11.0019114402, 11.7509400752)],
                knots=[0, 0, 0, 1, 1, 1], degree=2))
            add(Edge.make_bspline(
                [(16.9643884384, 11.3649091927), (14.9042236252, 12.2129770382), (13.2280895345, 12.2129770382)],
                knots=[0, 0, 0, 1, 1, 1], degree=2))
            Line((16.9643884384, 11.3649091927), (17.7044476431, 13.0530442435))
            add(Edge.make_bspline(
                [(13.3761013754, 13.9531162493), (15.5882783496, 13.9531162493), (17.7044476431, 13.0530442435)],
                knots=[0, 0, 0, 1, 1, 1], degree=2))
            add(Edge.make_bspline(
                [(9.6398024715, 12.9830386431), (11.0039116002, 13.9531162493), (13.3761013754, 13.9531162493)],
                knots=[0, 0, 0, 1, 1, 1], degree=2))
            add(Edge.make_bspline(
                [(8.2756933428, 10.3368269462), (8.2756933428, 12.0129610369), (9.6398024715, 12.9830386431)],
                knots=[0, 0, 0, 1, 1, 1], degree=2))
            add(Edge.make_bspline(
                [(8.6697248653, 8.7266981359), (8.2756933428, 9.4007520602), (8.2756933428, 10.3368269462)],
                knots=[0, 0, 0, 1, 1, 1], degree=2))
            add(Edge.make_bspline(
                [(9.869820873, 7.5206016481), (9.0637563878, 8.0526442115), (8.6697248653, 8.7266981359)],
                knots=[0, 0, 0, 1, 1, 1], degree=2))
            add(Edge.make_bspline(
                [(12.5880383304, 6.2765021202), (10.6758853581, 6.9885590847), (9.869820873, 7.5206016481)],
                knots=[0, 0, 0, 1, 1, 1], degree=2))
            add(Edge.make_bspline(
                [(15.2962549877, 4.9323945916), (14.6041996233, 5.5004400352), (12.5880383304, 6.2765021202)],
                knots=[0, 0, 0, 1, 1, 1], degree=2))
            add(Edge.make_bspline(
                [(15.9883103521, 3.5642851428), (15.9883103521, 4.3643491479), (15.2962549877, 4.9323945916)],
                knots=[0, 0, 0, 1, 1, 1], degree=2))
            add(Edge.make_bspline(
                [(15.1142404265, 1.9821585727), (15.9883103521, 2.500200016), (15.9883103521, 3.5642851428)],
                knots=[0, 0, 0, 1, 1, 1], degree=2))
            add(Edge.make_bspline(
                [(12.6160405706, 1.4641171294), (14.2401705009, 1.4641171294), (15.1142404265, 1.9821585727)],
                knots=[0, 0, 0, 1, 1, 1], degree=2))
            add(Edge.make_bspline(
                [(10.4338659966, 1.7501400112), (11.5639564038, 1.4641171294), (12.6160405706, 1.4641171294)],
                knots=[0, 0, 0, 1, 1, 1], degree=2))
            add(Edge.make_bspline(
                [(8.315696543, 2.5362028962), (9.3037755894, 2.036162893), (10.4338659966, 1.7501400112)],
                knots=[0, 0, 0, 1, 1, 1], degree=2))
            Line((8.315696543, 2.5362028962), (8.315696543, 0.6120489639))
        make_face()
        with BuildLine():
            Line((14.8230424682, 0), (9.9715727361, 0))
            add(Edge.make_bspline(
                [(12.5640364102, -0.2520201616), (11.092790572, -0.2520201616), (9.9715727361, 0)],
                knots=[0, 0, 0, 0.5400617249, 0.5400617249, 0.5400617249], degree=2))
            add(Edge.make_bspline(
                [(14.8230424682, 0), (13.8333887774, -0.2520201616), (12.5640364102, -0.2520201616)],
                knots=[0.5072784088, 0.5072784088, 0.5072784088, 1, 1, 1], degree=2))
        make_face()
    extrude(amount=F1_DEPTH)


solid = f1.part
